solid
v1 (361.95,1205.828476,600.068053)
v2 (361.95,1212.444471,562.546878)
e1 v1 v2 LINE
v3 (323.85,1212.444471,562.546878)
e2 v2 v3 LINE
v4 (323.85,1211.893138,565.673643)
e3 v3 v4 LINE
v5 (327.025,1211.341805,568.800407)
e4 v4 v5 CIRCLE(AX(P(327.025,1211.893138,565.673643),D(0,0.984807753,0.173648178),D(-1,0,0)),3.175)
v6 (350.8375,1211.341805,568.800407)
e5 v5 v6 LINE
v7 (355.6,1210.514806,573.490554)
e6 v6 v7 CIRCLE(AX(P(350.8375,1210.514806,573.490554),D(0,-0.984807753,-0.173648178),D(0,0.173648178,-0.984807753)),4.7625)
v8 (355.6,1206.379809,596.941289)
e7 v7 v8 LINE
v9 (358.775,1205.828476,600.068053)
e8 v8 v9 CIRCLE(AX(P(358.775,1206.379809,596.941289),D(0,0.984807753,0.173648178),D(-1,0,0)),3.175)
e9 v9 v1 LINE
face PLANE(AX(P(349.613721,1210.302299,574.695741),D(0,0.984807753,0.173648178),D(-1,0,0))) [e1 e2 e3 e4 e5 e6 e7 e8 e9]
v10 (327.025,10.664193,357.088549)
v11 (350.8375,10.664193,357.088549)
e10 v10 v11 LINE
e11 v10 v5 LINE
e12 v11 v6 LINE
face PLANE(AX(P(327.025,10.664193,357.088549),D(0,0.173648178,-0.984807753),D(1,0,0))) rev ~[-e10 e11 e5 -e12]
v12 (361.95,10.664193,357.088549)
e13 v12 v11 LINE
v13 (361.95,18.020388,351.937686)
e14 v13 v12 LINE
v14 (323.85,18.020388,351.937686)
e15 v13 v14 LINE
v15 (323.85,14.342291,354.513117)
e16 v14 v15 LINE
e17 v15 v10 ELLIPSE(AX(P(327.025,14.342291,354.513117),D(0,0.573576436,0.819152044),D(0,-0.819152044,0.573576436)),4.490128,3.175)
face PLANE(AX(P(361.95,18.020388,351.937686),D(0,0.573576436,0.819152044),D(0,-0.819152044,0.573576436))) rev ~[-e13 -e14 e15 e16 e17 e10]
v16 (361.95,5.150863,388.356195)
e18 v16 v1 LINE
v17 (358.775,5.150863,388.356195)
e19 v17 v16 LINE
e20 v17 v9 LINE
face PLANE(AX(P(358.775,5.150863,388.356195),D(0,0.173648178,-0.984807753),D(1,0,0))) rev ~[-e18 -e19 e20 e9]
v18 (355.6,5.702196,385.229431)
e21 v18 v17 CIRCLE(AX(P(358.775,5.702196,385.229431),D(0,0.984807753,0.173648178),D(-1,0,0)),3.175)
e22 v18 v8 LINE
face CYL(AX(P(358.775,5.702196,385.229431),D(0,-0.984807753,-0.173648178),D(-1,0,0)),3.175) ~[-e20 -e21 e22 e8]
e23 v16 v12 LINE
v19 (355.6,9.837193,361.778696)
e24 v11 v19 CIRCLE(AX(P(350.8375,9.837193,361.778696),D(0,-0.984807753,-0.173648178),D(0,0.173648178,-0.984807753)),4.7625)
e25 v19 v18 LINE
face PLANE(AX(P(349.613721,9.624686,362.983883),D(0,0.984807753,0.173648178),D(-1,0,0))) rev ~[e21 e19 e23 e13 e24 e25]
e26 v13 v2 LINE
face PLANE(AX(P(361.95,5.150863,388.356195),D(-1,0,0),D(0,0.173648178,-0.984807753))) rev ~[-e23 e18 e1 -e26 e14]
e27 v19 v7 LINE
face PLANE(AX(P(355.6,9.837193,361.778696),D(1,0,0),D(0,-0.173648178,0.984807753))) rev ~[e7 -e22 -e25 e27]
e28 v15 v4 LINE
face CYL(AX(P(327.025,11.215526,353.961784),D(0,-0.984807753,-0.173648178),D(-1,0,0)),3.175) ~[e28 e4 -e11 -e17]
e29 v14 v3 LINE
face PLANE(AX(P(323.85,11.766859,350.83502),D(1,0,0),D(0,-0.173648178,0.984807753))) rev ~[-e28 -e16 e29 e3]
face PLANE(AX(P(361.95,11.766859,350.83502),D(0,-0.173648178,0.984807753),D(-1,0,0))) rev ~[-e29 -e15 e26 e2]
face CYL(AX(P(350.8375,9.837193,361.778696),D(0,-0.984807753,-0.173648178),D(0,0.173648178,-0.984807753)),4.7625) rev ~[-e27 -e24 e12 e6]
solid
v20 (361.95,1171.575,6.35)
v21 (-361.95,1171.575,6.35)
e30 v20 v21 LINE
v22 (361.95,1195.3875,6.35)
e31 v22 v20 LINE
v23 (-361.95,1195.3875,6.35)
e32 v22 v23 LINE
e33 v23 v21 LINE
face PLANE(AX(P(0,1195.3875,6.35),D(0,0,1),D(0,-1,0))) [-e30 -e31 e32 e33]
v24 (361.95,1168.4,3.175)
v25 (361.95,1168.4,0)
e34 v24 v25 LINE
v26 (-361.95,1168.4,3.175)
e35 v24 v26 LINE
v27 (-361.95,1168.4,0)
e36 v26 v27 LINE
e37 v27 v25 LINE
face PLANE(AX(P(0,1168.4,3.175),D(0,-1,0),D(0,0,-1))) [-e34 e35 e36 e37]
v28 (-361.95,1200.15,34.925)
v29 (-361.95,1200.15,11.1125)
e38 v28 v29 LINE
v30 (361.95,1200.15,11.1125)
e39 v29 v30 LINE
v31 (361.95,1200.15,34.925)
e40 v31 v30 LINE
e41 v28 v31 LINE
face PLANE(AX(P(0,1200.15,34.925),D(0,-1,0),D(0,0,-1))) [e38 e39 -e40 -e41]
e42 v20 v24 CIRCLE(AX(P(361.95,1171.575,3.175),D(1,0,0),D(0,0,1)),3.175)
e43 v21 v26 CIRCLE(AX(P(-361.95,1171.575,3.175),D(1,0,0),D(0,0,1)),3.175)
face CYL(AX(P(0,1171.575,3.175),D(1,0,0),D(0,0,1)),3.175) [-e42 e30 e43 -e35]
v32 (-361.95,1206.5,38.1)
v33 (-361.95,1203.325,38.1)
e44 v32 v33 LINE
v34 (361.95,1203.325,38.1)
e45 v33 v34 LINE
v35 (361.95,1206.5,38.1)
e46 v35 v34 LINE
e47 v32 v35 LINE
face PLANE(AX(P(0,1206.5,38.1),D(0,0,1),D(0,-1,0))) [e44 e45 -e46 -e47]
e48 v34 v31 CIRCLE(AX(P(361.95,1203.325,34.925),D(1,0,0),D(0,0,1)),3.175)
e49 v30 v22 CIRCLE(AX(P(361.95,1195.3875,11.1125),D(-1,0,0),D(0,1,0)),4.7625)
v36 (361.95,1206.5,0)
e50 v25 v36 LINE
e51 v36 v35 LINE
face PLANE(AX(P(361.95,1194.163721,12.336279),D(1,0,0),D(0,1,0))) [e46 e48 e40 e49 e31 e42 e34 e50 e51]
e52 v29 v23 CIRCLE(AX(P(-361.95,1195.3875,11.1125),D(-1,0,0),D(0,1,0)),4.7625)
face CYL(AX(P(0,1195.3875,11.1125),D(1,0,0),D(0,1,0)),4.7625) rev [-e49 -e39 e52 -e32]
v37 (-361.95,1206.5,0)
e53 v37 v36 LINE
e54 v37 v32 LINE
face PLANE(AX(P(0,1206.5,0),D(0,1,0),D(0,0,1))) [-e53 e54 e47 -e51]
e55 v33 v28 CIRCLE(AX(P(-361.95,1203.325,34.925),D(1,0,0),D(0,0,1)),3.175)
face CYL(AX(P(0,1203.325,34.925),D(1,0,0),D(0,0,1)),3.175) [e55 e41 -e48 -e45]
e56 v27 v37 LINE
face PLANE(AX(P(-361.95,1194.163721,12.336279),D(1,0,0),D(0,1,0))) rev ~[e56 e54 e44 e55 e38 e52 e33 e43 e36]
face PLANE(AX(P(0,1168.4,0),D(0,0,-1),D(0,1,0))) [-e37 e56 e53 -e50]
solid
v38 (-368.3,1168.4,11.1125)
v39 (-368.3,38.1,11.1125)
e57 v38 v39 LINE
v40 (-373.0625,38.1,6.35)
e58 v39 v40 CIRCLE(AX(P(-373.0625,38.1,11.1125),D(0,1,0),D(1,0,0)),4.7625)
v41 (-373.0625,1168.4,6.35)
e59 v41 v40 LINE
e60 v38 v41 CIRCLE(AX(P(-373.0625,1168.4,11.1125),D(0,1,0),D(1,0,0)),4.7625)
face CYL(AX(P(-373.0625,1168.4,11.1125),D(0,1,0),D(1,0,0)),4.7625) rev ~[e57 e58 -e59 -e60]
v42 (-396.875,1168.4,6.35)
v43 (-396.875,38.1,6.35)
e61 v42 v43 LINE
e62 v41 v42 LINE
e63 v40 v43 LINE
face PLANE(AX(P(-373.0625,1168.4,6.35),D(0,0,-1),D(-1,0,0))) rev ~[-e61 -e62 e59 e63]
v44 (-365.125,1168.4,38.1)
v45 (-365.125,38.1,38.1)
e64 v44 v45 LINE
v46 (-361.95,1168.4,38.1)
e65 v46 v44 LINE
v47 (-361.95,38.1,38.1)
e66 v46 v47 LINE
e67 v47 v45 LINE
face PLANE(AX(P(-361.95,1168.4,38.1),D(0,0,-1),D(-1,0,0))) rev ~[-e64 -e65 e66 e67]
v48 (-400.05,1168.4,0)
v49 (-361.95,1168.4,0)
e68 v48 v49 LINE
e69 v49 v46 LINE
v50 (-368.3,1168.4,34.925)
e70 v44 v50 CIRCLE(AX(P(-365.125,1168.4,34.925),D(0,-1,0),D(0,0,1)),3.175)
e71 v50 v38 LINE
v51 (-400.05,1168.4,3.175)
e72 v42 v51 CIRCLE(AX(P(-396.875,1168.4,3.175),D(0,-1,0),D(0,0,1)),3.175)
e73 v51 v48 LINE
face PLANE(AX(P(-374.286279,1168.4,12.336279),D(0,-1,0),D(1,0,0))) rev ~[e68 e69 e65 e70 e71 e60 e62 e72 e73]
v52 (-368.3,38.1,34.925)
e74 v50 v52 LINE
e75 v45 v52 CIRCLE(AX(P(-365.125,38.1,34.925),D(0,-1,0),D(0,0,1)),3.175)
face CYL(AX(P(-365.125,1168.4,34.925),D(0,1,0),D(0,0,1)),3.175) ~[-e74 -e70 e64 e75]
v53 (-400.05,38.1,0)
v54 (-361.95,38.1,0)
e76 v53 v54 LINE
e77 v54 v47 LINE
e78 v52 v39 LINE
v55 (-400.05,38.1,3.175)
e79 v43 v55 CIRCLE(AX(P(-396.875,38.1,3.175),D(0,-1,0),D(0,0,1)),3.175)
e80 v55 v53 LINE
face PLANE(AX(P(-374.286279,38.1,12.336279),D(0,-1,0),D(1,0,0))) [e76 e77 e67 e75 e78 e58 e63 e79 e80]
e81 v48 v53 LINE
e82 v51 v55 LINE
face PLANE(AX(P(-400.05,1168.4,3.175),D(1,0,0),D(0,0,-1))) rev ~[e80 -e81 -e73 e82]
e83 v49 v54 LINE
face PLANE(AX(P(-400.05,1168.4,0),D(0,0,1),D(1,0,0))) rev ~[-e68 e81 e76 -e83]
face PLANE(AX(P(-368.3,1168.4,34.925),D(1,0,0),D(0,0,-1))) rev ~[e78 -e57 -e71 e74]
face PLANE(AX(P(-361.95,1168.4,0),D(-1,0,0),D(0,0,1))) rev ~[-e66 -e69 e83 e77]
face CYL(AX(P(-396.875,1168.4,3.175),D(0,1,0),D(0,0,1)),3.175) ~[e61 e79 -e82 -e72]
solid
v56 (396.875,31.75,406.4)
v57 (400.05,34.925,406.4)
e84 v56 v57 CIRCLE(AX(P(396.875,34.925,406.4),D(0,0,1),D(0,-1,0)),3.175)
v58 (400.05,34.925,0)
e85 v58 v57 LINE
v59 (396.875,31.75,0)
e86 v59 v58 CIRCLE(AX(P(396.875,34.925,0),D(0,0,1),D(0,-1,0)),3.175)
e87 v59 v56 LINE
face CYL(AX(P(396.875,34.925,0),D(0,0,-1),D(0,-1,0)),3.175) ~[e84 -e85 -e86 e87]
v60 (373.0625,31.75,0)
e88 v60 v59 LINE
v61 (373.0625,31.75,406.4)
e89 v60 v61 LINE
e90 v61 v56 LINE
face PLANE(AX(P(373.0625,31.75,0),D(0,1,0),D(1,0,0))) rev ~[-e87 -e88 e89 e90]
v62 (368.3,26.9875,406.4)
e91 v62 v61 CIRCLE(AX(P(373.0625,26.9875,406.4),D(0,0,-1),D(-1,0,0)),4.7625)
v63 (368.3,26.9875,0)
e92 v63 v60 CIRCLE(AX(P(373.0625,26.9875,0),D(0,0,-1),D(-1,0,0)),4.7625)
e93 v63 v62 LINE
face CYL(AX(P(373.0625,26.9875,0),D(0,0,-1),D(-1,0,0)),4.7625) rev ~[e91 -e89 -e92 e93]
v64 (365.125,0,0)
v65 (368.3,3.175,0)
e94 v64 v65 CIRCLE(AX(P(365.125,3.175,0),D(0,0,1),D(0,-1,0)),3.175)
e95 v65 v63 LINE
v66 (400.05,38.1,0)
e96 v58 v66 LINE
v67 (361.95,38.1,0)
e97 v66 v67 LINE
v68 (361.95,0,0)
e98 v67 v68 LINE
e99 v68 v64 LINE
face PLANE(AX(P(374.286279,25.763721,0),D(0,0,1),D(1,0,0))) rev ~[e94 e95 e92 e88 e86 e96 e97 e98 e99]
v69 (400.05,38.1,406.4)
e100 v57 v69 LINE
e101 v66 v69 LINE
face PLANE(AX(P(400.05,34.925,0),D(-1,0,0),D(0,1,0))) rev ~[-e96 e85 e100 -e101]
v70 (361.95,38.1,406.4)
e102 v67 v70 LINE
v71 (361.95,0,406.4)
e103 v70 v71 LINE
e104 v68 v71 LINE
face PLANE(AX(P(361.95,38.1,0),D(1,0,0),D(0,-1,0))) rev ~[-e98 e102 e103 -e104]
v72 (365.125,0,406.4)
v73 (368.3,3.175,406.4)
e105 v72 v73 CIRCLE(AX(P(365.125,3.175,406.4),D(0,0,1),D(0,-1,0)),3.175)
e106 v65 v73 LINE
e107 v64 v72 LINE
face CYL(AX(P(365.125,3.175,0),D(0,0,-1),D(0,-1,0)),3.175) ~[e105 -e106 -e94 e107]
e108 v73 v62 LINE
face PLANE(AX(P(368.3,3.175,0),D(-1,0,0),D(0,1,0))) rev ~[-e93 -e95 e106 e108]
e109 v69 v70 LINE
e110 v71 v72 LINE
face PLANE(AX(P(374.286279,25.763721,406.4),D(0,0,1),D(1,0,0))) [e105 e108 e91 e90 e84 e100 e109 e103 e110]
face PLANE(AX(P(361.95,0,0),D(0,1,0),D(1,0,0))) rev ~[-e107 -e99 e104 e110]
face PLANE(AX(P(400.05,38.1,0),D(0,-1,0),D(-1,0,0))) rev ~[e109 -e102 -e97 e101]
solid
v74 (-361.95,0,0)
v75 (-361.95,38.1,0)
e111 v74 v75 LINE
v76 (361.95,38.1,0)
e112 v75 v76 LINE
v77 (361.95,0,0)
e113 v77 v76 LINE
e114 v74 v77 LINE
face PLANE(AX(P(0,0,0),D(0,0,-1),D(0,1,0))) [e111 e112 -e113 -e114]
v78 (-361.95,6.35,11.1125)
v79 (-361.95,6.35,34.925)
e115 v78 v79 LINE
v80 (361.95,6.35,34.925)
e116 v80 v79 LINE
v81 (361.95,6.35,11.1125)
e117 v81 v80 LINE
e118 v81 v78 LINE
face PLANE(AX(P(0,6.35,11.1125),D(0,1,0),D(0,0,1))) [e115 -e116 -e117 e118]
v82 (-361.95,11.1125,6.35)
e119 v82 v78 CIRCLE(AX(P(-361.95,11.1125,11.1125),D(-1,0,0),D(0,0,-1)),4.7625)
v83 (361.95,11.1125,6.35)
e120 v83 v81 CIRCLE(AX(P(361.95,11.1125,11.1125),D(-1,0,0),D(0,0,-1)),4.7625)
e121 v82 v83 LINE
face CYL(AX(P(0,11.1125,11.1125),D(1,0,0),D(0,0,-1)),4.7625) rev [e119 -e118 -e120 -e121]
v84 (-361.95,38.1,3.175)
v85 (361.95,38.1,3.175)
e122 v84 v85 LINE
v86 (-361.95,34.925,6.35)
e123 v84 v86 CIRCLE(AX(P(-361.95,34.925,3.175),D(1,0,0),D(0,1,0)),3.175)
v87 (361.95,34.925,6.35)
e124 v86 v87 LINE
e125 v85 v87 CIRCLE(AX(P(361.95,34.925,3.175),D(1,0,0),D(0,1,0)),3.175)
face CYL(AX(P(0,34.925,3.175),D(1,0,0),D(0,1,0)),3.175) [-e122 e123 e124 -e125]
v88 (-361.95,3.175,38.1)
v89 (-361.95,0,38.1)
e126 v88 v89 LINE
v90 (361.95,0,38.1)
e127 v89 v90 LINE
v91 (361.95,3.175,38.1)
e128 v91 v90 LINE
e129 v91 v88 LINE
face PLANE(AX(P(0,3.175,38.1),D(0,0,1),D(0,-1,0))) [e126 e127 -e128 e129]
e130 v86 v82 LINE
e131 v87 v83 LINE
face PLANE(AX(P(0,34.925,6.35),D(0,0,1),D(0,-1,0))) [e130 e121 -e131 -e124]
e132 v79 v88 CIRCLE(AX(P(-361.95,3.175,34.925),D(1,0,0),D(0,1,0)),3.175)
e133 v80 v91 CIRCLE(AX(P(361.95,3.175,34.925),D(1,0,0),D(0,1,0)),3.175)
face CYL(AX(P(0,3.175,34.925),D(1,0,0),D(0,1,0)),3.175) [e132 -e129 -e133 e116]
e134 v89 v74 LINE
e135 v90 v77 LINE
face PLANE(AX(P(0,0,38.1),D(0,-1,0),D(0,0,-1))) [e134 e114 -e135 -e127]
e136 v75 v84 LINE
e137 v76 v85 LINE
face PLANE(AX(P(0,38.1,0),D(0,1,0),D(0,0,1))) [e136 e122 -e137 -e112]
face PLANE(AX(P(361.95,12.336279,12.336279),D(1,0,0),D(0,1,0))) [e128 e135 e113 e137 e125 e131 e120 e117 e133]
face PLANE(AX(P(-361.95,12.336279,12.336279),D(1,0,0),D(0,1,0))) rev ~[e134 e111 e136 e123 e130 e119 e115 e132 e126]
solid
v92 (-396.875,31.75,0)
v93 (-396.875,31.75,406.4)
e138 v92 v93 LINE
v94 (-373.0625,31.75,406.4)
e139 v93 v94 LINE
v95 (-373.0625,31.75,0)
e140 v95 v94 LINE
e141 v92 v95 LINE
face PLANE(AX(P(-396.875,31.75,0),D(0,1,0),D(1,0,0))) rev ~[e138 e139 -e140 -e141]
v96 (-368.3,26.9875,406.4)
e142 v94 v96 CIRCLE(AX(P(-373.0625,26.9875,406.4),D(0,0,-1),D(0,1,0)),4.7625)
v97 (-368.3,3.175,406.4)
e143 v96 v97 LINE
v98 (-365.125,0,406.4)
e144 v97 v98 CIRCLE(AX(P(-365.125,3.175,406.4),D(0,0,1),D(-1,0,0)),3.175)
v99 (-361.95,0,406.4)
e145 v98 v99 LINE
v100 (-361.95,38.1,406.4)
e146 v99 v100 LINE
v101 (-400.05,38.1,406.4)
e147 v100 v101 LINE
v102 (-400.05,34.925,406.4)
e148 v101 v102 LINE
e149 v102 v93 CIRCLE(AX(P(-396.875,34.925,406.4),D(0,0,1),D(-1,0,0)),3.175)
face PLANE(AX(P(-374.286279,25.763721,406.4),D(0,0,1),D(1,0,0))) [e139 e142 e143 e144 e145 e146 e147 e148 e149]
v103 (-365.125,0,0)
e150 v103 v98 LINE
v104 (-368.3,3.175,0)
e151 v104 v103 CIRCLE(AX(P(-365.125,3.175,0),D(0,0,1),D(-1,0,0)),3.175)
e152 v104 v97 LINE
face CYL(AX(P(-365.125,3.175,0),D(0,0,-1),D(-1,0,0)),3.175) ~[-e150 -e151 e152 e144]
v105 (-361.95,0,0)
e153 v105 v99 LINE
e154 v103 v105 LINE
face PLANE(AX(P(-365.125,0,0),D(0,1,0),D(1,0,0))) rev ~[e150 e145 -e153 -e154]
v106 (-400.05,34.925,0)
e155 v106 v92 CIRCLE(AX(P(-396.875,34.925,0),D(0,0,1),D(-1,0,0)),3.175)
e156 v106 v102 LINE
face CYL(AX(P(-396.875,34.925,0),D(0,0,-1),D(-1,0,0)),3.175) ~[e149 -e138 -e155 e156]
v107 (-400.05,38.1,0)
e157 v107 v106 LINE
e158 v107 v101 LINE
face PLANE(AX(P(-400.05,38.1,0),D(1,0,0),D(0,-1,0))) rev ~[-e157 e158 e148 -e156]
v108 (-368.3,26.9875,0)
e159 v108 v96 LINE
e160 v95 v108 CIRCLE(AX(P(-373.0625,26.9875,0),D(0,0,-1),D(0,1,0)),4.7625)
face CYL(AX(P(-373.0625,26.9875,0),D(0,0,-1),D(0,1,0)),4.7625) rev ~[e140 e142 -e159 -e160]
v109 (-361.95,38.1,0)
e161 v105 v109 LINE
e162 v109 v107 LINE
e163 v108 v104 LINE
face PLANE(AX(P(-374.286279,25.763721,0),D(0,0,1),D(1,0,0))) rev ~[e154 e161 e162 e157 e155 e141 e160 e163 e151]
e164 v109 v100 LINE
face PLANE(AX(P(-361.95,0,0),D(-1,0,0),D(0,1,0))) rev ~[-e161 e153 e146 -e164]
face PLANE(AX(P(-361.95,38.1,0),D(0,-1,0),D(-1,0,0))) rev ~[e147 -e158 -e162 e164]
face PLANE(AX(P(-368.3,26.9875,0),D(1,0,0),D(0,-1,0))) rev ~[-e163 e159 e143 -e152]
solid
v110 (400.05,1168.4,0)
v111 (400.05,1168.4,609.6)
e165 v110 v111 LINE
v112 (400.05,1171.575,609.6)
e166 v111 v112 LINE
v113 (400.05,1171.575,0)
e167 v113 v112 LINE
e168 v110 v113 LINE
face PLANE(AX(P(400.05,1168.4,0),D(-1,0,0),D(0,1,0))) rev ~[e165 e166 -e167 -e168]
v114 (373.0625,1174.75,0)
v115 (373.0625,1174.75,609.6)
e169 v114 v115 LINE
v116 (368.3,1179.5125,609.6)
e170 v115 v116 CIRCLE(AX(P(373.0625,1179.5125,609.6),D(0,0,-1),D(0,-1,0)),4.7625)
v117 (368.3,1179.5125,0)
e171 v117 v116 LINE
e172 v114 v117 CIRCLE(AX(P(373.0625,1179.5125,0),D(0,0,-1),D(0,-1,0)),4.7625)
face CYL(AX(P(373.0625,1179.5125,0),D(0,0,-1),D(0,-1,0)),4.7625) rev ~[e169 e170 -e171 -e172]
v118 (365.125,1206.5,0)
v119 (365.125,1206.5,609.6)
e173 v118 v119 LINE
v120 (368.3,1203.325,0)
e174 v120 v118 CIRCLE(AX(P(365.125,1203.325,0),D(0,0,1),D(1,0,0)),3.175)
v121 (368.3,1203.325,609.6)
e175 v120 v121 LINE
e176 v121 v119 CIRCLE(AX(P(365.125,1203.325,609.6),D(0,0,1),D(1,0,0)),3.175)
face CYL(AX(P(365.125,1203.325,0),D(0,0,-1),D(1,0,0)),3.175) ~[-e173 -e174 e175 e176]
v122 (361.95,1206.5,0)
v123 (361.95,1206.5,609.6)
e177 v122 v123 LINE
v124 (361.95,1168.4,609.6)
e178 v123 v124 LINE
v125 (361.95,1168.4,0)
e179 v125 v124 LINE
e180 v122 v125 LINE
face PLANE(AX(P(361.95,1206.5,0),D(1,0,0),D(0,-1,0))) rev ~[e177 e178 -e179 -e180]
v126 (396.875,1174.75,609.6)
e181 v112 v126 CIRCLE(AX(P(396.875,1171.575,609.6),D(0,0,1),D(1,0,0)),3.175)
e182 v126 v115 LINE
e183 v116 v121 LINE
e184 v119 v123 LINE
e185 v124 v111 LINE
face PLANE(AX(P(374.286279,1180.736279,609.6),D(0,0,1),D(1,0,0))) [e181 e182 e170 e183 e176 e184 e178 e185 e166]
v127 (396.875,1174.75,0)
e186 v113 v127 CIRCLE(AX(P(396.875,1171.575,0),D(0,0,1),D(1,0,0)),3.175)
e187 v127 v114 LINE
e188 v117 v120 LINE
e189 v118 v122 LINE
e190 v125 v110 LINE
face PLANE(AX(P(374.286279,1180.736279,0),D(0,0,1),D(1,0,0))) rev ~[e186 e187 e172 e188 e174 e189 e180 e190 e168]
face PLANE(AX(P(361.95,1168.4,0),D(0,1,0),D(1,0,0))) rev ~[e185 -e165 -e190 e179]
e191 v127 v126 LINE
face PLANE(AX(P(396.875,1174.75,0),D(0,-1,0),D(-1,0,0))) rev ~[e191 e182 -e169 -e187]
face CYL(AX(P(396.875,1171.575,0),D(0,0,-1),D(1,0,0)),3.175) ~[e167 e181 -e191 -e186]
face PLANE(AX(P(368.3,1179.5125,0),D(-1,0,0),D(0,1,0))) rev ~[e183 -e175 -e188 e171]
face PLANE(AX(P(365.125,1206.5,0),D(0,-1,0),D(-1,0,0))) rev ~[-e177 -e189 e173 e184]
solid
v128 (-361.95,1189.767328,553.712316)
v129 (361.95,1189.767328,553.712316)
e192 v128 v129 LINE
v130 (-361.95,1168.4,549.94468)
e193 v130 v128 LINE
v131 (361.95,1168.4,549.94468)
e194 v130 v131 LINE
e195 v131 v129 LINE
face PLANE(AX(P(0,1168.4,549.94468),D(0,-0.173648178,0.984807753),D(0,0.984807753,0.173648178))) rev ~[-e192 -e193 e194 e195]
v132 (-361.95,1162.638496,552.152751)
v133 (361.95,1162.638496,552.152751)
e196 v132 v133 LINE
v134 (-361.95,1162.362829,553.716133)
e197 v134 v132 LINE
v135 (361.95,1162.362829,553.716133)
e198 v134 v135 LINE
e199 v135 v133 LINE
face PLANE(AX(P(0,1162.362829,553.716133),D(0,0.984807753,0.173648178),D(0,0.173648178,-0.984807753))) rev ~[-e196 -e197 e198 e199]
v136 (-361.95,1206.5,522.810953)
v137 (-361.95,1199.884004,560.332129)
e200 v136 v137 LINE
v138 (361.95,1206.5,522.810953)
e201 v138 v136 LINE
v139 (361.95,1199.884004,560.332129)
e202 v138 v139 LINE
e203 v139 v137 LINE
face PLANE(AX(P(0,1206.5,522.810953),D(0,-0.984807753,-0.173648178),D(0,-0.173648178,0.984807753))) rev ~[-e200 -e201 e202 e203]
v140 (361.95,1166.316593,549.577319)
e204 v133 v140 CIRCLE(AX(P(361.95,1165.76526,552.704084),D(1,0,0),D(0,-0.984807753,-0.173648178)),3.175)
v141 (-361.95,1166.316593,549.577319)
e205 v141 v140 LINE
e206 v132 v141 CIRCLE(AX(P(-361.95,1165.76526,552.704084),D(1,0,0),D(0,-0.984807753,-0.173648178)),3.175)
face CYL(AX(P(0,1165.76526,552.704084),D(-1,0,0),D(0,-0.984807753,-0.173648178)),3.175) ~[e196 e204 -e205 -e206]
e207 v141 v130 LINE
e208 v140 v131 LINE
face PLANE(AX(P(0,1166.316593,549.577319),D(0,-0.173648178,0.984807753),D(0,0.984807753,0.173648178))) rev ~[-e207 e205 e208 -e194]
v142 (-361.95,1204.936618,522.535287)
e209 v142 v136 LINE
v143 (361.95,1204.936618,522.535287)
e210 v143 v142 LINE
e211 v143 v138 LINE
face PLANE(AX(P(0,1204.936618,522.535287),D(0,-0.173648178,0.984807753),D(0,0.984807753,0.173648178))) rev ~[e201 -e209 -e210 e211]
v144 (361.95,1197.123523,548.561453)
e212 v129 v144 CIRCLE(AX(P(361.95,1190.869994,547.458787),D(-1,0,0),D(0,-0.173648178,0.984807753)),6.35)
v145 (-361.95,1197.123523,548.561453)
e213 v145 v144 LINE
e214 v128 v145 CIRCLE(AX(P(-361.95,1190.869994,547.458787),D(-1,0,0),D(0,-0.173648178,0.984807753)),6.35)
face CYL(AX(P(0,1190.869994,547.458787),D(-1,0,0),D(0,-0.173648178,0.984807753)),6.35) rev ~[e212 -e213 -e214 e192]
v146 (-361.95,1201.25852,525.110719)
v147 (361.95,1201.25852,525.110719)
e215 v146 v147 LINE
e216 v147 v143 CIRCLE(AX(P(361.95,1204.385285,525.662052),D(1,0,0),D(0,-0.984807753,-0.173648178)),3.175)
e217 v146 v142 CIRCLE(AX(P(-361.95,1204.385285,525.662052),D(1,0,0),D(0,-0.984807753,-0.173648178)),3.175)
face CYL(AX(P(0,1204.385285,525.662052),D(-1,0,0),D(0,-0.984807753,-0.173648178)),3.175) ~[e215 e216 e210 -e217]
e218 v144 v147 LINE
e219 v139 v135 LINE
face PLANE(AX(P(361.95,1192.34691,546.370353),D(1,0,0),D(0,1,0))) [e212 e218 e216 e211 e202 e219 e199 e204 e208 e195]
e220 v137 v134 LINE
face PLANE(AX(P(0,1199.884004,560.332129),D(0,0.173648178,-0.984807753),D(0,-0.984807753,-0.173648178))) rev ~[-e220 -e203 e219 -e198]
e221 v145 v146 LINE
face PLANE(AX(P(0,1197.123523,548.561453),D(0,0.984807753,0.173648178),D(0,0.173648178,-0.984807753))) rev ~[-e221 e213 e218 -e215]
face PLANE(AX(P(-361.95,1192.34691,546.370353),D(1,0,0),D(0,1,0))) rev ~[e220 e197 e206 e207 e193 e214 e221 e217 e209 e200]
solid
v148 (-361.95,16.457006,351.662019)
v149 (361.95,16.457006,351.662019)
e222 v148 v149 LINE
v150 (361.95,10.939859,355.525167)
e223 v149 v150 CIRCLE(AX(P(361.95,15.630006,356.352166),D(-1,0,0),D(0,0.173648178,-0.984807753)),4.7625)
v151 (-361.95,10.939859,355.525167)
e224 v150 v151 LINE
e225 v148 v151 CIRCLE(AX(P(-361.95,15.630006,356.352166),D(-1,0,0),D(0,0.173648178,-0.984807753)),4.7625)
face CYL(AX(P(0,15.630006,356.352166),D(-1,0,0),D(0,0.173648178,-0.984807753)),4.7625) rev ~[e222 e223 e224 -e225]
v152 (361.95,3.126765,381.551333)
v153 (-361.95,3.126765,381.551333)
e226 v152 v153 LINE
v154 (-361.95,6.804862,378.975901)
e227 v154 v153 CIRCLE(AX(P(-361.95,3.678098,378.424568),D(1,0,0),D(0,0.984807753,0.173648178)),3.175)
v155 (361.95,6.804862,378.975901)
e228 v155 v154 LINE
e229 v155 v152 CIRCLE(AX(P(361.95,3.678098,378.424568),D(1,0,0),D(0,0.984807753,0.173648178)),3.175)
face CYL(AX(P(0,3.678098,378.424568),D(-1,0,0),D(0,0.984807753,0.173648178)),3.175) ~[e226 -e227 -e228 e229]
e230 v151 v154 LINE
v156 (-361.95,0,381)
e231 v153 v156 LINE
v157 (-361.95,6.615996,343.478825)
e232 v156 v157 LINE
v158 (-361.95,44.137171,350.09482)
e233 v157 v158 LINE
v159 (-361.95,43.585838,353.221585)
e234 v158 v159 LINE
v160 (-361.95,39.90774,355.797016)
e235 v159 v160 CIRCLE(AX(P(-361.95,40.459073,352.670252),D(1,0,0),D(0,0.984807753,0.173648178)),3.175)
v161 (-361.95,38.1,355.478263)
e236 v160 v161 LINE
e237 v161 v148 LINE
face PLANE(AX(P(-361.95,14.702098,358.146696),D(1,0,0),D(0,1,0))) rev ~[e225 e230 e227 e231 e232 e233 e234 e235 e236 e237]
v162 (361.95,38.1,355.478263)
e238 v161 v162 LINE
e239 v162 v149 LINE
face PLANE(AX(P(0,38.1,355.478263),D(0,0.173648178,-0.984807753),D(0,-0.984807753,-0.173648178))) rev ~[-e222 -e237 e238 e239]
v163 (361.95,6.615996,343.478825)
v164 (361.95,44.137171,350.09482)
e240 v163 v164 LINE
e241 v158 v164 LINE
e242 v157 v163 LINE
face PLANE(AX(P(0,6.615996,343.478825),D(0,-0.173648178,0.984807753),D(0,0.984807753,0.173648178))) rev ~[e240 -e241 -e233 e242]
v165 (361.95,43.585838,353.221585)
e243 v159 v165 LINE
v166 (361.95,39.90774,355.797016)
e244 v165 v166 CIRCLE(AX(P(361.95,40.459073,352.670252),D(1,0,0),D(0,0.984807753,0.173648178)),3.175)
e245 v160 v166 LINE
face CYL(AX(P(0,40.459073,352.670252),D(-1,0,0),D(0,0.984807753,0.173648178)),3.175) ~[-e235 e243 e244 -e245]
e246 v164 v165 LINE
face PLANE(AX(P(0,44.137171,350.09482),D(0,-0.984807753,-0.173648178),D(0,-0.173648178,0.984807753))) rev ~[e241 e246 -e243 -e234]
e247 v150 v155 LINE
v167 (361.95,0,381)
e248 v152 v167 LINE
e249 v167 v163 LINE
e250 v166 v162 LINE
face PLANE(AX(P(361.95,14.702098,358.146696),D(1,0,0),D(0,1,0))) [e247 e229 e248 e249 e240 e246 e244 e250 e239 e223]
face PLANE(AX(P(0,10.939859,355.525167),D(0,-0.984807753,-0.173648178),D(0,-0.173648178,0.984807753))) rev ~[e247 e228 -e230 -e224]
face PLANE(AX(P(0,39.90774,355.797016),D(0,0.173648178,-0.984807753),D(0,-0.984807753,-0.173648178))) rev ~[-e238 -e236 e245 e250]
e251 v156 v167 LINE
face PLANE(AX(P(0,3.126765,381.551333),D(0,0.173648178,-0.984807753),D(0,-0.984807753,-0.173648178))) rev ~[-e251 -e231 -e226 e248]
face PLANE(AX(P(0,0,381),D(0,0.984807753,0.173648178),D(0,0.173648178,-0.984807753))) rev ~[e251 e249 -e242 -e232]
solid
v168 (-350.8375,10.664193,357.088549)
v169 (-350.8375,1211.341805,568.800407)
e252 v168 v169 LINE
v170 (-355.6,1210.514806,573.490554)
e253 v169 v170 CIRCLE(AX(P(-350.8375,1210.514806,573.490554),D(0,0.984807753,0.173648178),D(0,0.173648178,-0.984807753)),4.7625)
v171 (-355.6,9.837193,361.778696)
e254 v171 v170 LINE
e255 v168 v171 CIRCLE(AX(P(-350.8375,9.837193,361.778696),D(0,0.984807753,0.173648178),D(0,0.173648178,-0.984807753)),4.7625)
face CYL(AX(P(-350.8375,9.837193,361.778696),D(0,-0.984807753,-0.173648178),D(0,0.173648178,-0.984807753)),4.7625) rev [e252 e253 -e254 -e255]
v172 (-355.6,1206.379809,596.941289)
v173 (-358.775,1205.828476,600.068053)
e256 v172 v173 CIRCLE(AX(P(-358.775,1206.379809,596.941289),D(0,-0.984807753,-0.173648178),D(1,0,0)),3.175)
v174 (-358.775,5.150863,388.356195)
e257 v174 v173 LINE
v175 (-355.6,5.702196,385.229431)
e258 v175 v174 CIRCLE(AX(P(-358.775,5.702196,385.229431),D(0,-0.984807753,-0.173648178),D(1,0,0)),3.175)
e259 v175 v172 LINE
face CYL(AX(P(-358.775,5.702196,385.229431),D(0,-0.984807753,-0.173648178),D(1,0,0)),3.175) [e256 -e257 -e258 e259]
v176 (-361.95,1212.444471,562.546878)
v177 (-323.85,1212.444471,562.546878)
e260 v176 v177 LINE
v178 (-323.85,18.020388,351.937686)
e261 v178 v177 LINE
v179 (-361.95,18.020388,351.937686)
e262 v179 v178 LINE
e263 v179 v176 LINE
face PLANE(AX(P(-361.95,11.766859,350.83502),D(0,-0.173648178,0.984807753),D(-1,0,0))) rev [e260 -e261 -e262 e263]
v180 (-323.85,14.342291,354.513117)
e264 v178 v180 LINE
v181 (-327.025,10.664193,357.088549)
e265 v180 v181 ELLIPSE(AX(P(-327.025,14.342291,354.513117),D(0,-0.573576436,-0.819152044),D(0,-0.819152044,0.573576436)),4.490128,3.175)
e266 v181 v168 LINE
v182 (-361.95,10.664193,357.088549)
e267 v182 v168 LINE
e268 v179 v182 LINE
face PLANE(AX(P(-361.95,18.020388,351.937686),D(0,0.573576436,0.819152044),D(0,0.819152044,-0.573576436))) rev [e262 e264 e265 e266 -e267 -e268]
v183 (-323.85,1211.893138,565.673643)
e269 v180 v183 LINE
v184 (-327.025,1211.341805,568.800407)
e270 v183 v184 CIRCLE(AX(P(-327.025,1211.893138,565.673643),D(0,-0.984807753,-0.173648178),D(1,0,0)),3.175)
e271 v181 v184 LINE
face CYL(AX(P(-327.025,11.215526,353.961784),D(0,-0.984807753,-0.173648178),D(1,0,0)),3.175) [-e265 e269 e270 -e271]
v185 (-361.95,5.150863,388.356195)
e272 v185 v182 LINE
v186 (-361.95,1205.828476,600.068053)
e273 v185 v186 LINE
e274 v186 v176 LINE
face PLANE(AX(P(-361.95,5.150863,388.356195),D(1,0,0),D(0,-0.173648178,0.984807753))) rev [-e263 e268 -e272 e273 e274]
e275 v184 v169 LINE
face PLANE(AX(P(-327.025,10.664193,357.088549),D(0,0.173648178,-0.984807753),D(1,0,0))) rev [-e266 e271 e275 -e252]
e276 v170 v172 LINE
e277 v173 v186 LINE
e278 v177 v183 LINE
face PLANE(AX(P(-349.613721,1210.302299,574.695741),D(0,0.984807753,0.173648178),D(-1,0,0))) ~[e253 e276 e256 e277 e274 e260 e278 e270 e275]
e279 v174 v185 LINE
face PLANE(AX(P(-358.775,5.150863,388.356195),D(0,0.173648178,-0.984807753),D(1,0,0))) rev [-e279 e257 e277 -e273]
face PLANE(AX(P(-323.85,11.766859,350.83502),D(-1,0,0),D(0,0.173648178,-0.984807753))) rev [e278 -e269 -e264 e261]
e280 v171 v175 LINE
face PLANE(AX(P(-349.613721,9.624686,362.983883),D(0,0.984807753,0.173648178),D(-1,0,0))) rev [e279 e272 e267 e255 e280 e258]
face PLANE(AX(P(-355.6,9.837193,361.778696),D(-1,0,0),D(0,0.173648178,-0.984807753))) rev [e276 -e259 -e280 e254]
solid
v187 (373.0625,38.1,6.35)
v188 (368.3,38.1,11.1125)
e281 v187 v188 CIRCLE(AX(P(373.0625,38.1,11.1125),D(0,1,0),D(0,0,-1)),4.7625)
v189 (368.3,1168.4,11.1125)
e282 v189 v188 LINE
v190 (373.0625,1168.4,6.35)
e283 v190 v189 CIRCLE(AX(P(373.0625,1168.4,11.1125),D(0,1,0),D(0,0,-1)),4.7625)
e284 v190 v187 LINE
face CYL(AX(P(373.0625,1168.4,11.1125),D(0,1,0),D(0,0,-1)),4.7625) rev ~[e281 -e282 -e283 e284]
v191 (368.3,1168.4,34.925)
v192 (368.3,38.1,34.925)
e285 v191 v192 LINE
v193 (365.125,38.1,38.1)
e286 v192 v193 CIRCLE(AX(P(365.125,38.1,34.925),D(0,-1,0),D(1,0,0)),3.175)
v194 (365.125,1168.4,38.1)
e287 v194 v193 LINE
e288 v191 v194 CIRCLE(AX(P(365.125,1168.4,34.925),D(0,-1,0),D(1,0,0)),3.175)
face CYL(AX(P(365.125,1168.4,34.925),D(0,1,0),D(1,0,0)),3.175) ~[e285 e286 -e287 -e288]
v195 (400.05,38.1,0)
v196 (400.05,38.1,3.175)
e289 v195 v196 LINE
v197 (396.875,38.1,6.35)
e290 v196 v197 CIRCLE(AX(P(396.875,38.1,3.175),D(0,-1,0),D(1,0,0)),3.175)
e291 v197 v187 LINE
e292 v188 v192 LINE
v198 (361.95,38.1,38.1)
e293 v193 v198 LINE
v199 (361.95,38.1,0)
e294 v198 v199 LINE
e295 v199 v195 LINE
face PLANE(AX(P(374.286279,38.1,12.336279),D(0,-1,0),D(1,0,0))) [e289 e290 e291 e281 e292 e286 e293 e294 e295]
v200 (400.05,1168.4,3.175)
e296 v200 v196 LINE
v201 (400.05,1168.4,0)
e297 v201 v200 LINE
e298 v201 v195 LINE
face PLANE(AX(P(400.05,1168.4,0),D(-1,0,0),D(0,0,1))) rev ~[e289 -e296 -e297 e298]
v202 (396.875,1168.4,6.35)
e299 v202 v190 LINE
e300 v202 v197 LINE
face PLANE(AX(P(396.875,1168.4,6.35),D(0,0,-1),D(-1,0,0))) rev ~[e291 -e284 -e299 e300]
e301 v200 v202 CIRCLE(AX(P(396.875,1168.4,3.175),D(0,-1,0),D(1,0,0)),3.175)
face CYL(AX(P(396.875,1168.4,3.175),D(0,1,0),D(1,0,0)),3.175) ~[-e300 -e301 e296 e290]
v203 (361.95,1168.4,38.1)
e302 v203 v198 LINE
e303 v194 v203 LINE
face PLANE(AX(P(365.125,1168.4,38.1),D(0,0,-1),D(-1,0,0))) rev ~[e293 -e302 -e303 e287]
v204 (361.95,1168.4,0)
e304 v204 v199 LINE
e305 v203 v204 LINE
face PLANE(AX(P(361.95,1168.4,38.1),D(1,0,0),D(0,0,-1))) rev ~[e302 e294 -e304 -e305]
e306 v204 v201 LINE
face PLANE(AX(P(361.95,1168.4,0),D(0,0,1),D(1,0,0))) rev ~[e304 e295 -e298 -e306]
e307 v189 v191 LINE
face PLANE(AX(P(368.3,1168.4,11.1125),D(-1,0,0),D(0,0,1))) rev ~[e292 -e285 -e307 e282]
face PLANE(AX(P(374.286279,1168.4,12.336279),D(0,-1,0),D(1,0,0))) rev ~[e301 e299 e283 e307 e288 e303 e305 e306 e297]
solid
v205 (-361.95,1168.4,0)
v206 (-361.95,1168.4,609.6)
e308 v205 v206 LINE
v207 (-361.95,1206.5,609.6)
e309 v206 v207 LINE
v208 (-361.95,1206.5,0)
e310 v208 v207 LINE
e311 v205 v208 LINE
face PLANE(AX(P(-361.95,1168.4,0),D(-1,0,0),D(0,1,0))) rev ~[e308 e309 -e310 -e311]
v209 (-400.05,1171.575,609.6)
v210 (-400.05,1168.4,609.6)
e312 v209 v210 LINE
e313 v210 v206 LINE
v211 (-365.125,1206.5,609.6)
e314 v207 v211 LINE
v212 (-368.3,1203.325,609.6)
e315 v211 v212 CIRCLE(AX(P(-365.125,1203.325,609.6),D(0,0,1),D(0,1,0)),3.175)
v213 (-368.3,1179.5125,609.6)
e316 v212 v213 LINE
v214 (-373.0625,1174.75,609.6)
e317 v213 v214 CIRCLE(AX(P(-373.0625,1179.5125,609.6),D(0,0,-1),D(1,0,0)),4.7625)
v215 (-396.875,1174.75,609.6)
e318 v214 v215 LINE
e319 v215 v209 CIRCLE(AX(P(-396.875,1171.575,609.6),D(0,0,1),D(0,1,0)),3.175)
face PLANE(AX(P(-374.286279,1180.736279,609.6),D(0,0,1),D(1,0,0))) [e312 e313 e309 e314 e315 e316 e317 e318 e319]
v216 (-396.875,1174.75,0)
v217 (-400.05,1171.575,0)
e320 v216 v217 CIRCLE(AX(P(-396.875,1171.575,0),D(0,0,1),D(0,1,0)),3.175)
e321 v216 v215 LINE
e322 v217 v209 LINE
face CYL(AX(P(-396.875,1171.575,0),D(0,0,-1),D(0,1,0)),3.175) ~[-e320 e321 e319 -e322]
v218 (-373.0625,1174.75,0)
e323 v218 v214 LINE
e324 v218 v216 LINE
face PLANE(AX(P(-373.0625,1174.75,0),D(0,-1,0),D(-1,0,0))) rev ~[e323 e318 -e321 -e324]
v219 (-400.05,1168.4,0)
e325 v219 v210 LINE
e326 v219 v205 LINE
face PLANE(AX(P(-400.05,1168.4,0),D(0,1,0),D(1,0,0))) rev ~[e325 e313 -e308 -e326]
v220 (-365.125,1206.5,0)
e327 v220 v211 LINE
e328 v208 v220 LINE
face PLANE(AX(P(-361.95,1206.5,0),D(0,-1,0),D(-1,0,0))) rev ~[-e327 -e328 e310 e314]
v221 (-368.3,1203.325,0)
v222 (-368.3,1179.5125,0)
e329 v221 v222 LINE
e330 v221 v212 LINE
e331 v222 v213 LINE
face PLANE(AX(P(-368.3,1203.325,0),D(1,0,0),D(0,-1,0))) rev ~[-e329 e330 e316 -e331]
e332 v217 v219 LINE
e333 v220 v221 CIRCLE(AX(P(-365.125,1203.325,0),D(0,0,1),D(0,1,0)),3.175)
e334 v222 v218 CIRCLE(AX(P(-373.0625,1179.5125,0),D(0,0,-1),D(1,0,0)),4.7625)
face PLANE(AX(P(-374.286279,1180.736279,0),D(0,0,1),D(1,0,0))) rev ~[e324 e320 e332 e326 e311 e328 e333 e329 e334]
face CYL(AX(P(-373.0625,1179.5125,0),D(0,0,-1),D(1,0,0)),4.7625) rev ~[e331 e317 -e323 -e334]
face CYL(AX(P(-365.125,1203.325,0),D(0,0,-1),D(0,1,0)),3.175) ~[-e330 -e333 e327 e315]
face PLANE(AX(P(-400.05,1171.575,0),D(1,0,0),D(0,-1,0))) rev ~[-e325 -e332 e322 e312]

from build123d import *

# Parameters (mm, degrees)
F2_DEPTH       = 406.4
F3_DEPTH       = 609.6
F4_DEPTH       = 361.95
F4_DEPTH_BACK  = 361.95
F6_DEPTH       = 1219.2
F8_DEPTH       = 762.001
F11_DEPTH      = 361.95
F11_DEPTH_BACK = 361.95
F13_DEPTH      = 1130.3


with BuildPart() as f2:
    # F1 (on Top) → F2 (new body)
    with BuildSketch(Plane.XY):
        with BuildLine():
            ThreePointArc((-368.3, 3.175), (-367.3700640303, 0.9299359697), (-365.125, 0))
            Line((-365.125, 0), (-361.95, 0))
            Line((-361.95, 0), (-361.95, 38.1))
            Line((-361.95, 38.1), (-400.05, 38.1))
            Line((-400.05, 38.1), (-400.05, 34.925))
            ThreePointArc((-400.05, 34.925), (-399.1200640303, 32.6799359697), (-396.875, 31.75))
            Line((-396.875, 31.75), (-373.0625, 31.75))
            ThreePointArc((-373.0625, 31.75), (-369.6949039546, 30.3550960454), (-368.3, 26.9875))
            Line((-368.3, 26.9875), (-368.3, 3.175))
        make_face()
    extrude(amount=F2_DEPTH)


with BuildPart() as f2b:
    # F1 (on Top) → F2, piece 2 (new body)
    with BuildSketch(Plane.XY):
        with BuildLine():
            Line((361.95, 38.1), (361.95, 0))
            Line((361.95, 0), (365.125, 0))
            ThreePointArc((365.125, 0), (367.3700640303, 0.9299359697), (368.3, 3.175))
            Line((368.3, 3.175), (368.3, 26.9875))
            ThreePointArc((368.3, 26.9875), (369.6949039546, 30.3550960454), (373.0625, 31.75))
            Line((373.0625, 31.75), (396.875, 31.75))
            ThreePointArc((396.875, 31.75), (399.1200640303, 32.6799359697), (400.05, 34.925))
            Line((400.05, 34.925), (400.05, 38.1))
            Line((400.05, 38.1), (361.95, 38.1))
        make_face()
    extrude(amount=F2_DEPTH)


with BuildPart() as f3:
    # F1 (on Top) → F3 (new body)
    with BuildSketch(Plane.XY):
        with BuildLine():
            Line((-361.95, 1206.5), (-365.125, 1206.5))
            ThreePointArc((-365.125, 1206.5), (-367.3700640303, 1205.5700640303), (-368.3, 1203.325))
            Line((-368.3, 1203.325), (-368.3, 1179.5125))
            ThreePointArc((-368.3, 1179.5125), (-369.6949039546, 1176.1449039546), (-373.0625, 1174.75))
            Line((-373.0625, 1174.75), (-396.875, 1174.75))
            ThreePointArc((-396.875, 1174.75), (-399.1200640303, 1173.8200640303), (-400.05, 1171.575))
            Line((-400.05, 1171.575), (-400.05, 1168.4))
            Line((-400.05, 1168.4), (-361.95, 1168.4))
            Line((-361.95, 1168.4), (-361.95, 1206.5))
        make_face()
    extrude(amount=F3_DEPTH)


with BuildPart() as f3b:
    # F1 (on Top) → F3, piece 2 (new body)
    with BuildSketch(Plane.XY):
        with BuildLine():
            ThreePointArc((368.3, 1203.325), (367.3700640303, 1205.5700640303), (365.125, 1206.5))
            Line((365.125, 1206.5), (361.95, 1206.5))
            Line((361.95, 1206.5), (361.95, 1168.4))
            Line((361.95, 1168.4), (400.05, 1168.4))
            Line((400.05, 1168.4), (400.05, 1171.575))
            ThreePointArc((400.05, 1171.575), (399.1200640303, 1173.8200640303), (396.875, 1174.75))
            Line((396.875, 1174.75), (373.0625, 1174.75))
            ThreePointArc((373.0625, 1174.75), (369.6949039546, 1176.1449039546), (368.3, 1179.5125))
            Line((368.3, 1179.5125), (368.3, 1203.325))
        make_face()
    extrude(amount=F3_DEPTH)


with BuildPart() as f4:
    # F0 (on Right) → F4 (new body, two sides)
    with BuildSketch(Plane.YZ) as f4_sk:
        with BuildLine():
            Line((3.1267646158, 381.5513329641), (0, 381))
            Line((0, 381), (6.6159955691, 343.4788246102))
            Line((6.6159955691, 343.4788246102), (38.1, 349.0303040521))
            Line((38.1, 349.0303040521), (38.1, 355.4782630376))
            Line((38.1, 355.4782630376), (16.4570057963, 351.6620192162))
            ThreePointArc((16.4570057963, 351.6620192162), (12.898348572, 352.450954529), (10.9398594264, 355.5251666938))
            Line((10.9398594264, 355.5251666938), (6.8048621957, 378.9759013124))
            ThreePointArc((6.8048621957, 378.9759013124), (5.4992027653, 381.0253760889), (3.1267646158, 381.5513329641))
        make_face()
        with BuildLine():
            Line((38.1, 355.4782630376), (38.1, 349.0303040521))
            Line((38.1, 349.0303040521), (44.1371709589, 350.0948201793))
            Line((44.1371709589, 350.0948201793), (43.5858379948, 353.2215847952))
            ThreePointArc((43.5858379948, 353.2215847952), (42.2801785644, 355.2710595717), (39.9077404149, 355.7970164469))
            Line((39.9077404149, 355.7970164469), (38.1, 355.4782630376))
        make_face()
    extrude(amount=-F4_DEPTH)
    extrude(f4_sk.sketch, amount=F4_DEPTH_BACK)


with BuildPart() as f4b:
    # F0 (on Right) → F4, piece 2 (new body, two sides)
    with BuildSketch(Plane.YZ) as f4_2_sk:
        with BuildLine():
            Line((1199.8840044309, 560.3321287743), (1168.4, 554.7806493324))
            Line((1168.4, 554.7806493324), (1168.4, 549.9446800933))
            Line((1168.4, 549.9446800933), (1189.7673277217, 553.7123164763))
            ThreePointArc((1189.7673277217, 553.7123164763), (1194.5122040207, 552.6604027259), (1197.1235228815, 548.5614531728))
            Line((1197.1235228815, 548.5614531728), (1201.2585201122, 525.1107185542))
            ThreePointArc((1201.2585201122, 525.1107185542), (1202.5641795426, 523.0612437777), (1204.9366176921, 522.5352869025))
            Line((1204.9366176921, 522.5352869025), (1206.5, 522.8109533845))
            Line((1206.5, 522.8109533845), (1199.8840044309, 560.3321287743))
        make_face()
        with BuildLine():
            Line((1168.4, 554.7806493324), (1162.3628290411, 553.7161332052))
            Line((1162.3628290411, 553.7161332052), (1162.6384955232, 552.1527508973))
            ThreePointArc((1162.6384955232, 552.1527508973), (1163.9441549536, 550.1032761208), (1166.3165931031, 549.5773192456))
            Line((1166.3165931031, 549.5773192456), (1168.4, 549.9446800933))
            Line((1168.4, 549.9446800933), (1168.4, 554.7806493324))
        make_face()
    extrude(amount=-F4_DEPTH)
    extrude(f4_2_sk.sketch, amount=F4_DEPTH_BACK)


with BuildPart() as f6:
    # F5 (on face) → F6 (new body)
    with BuildSketch(Plane(origin=(0, 71.4083665352, 12.5912216685), x_dir=(-1, 0, 0), z_dir=(0, 0.984807753, 0.1736481777))):
        with BuildLine():
            Line((-358.775, 381.5617538977), (-361.95, 381.5617538977))
            Line((-361.95, 381.5617538977), (-361.95, 343.4617538977))
            Line((-361.95, 343.4617538977), (-323.85, 343.4617538977))
            Line((-323.85, 343.4617538977), (-323.85, 346.6367538977))
            ThreePointArc((-323.85, 346.6367538977), (-324.7799359697, 348.8818179279), (-327.025, 349.8117538977))
            Line((-327.025, 349.8117538977), (-350.8375, 349.8117538977))
            ThreePointArc((-350.8375, 349.8117538977), (-354.2050960454, 351.2066578523), (-355.6, 354.5742538977))
            Line((-355.6, 354.5742538977), (-355.6, 378.3867538977))
            ThreePointArc((-355.6, 378.3867538977), (-356.5299359697, 380.6318179279), (-358.775, 381.5617538977))
        make_face()
    extrude(amount=F6_DEPTH)

    # F7 (on face) → F8 (cut, through all)
    with BuildSketch(Plane.YZ.offset(361.95)):
        Polygon((10.6641929444, 357.0885490017), (11.7668588726, 350.83501977), (18.0203881042, 351.9376856982), align=None)
    extrude(amount=-F8_DEPTH, mode=Mode.SUBTRACT)


with BuildPart() as f9_1:
    # F9: instance of F6
    add(f6.part.mirror(Plane.YZ))


with BuildPart() as f11:
    # F10 (on Right) → F11 (new body, two sides)
    with BuildSketch(Plane.YZ) as f11_sk:
        with BuildLine():
            Line((3.175, 38.1), (0, 38.1))
            Line((0, 38.1), (0, 0))
            Line((0, 0), (38.1, 0))
            Line((38.1, 0), (38.1, 3.175))
            ThreePointArc((38.1, 3.175), (37.1700640303, 5.4200640303), (34.925, 6.35))
            Line((34.925, 6.35), (11.1125, 6.35))
            ThreePointArc((11.1125, 6.35), (7.7449039546, 7.7449039546), (6.35, 11.1125))
            Line((6.35, 11.1125), (6.35, 34.925))
            ThreePointArc((6.35, 34.925), (5.4200640303, 37.1700640303), (3.175, 38.1))
        make_face()
    extrude(amount=F11_DEPTH)
    extrude(f11_sk.sketch, amount=-F11_DEPTH_BACK)


with BuildPart() as f11b:
    # F10 (on Right) → F11, piece 2 (new body, two sides)
    with BuildSketch(Plane.YZ) as f11_2_sk:
        with BuildLine():
            Line((1168.4, 3.175), (1168.4, 0))
            Line((1168.4, 0), (1206.5, 0))
            Line((1206.5, 0), (1206.5, 38.1))
            Line((1206.5, 38.1), (1203.325, 38.1))
            ThreePointArc((1203.325, 38.1), (1201.0799359697, 37.1700640303), (1200.15, 34.925))
            Line((1200.15, 34.925), (1200.15, 11.1125))
            ThreePointArc((1200.15, 11.1125), (1198.7550960454, 7.7449039546), (1195.3875, 6.35))
            Line((1195.3875, 6.35), (1171.575, 6.35))
            ThreePointArc((1171.575, 6.35), (1169.3299359697, 5.4200640303), (1168.4, 3.175))
        make_face()
    extrude(amount=F11_DEPTH)
    extrude(f11_2_sk.sketch, amount=-F11_DEPTH_BACK)


with BuildPart() as f13:
    # F12 (on face) → F13 (new body, through all)
    with BuildSketch(Plane.XZ.offset(-1168.4)):
        with BuildLine():
            Line((365.125, 38.1), (361.95, 38.1))
            Line((361.95, 38.1), (361.95, 0))
            Line((361.95, 0), (400.05, 0))
            Line((400.05, 0), (400.05, 3.175))
            ThreePointArc((400.05, 3.175), (399.1200640303, 5.4200640303), (396.875, 6.35))
            Line((396.875, 6.35), (373.0625, 6.35))
            ThreePointArc((373.0625, 6.35), (369.6949039546, 7.7449039546), (368.3, 11.1125))
            Line((368.3, 11.1125), (368.3, 34.925))
            ThreePointArc((368.3, 34.925), (367.3700640303, 37.1700640303), (365.125, 38.1))
        make_face()
    extrude(amount=F13_DEPTH)


with BuildPart() as f13b:
    # F12 (on face) → F13, piece 2 (new body, through all)
    with BuildSketch(Plane.XZ.offset(-1168.4)):
        with BuildLine():
            Line((-400.05, 3.175), (-400.05, 0))
            Line((-400.05, 0), (-361.95, 0))
            Line((-361.95, 0), (-361.95, 38.1))
            Line((-361.95, 38.1), (-365.125, 38.1))
            ThreePointArc((-365.125, 38.1), (-367.3700640303, 37.1700640303), (-368.3, 34.925))
            Line((-368.3, 34.925), (-368.3, 11.1125))
            ThreePointArc((-368.3, 11.1125), (-369.6949039546, 7.7449039546), (-373.0625, 6.35))
            Line((-373.0625, 6.35), (-396.875, 6.35))
            ThreePointArc((-396.875, 6.35), (-399.1200640303, 5.4200640303), (-400.05, 3.175))
        make_face()
    extrude(amount=F13_DEPTH)


solid = Compound([f2.part, f2b.part, f3.part, f3b.part, f4.part, f4b.part, f6.part, f9_1.part, f11.part, f11b.part, f13.part, f13b.part])
